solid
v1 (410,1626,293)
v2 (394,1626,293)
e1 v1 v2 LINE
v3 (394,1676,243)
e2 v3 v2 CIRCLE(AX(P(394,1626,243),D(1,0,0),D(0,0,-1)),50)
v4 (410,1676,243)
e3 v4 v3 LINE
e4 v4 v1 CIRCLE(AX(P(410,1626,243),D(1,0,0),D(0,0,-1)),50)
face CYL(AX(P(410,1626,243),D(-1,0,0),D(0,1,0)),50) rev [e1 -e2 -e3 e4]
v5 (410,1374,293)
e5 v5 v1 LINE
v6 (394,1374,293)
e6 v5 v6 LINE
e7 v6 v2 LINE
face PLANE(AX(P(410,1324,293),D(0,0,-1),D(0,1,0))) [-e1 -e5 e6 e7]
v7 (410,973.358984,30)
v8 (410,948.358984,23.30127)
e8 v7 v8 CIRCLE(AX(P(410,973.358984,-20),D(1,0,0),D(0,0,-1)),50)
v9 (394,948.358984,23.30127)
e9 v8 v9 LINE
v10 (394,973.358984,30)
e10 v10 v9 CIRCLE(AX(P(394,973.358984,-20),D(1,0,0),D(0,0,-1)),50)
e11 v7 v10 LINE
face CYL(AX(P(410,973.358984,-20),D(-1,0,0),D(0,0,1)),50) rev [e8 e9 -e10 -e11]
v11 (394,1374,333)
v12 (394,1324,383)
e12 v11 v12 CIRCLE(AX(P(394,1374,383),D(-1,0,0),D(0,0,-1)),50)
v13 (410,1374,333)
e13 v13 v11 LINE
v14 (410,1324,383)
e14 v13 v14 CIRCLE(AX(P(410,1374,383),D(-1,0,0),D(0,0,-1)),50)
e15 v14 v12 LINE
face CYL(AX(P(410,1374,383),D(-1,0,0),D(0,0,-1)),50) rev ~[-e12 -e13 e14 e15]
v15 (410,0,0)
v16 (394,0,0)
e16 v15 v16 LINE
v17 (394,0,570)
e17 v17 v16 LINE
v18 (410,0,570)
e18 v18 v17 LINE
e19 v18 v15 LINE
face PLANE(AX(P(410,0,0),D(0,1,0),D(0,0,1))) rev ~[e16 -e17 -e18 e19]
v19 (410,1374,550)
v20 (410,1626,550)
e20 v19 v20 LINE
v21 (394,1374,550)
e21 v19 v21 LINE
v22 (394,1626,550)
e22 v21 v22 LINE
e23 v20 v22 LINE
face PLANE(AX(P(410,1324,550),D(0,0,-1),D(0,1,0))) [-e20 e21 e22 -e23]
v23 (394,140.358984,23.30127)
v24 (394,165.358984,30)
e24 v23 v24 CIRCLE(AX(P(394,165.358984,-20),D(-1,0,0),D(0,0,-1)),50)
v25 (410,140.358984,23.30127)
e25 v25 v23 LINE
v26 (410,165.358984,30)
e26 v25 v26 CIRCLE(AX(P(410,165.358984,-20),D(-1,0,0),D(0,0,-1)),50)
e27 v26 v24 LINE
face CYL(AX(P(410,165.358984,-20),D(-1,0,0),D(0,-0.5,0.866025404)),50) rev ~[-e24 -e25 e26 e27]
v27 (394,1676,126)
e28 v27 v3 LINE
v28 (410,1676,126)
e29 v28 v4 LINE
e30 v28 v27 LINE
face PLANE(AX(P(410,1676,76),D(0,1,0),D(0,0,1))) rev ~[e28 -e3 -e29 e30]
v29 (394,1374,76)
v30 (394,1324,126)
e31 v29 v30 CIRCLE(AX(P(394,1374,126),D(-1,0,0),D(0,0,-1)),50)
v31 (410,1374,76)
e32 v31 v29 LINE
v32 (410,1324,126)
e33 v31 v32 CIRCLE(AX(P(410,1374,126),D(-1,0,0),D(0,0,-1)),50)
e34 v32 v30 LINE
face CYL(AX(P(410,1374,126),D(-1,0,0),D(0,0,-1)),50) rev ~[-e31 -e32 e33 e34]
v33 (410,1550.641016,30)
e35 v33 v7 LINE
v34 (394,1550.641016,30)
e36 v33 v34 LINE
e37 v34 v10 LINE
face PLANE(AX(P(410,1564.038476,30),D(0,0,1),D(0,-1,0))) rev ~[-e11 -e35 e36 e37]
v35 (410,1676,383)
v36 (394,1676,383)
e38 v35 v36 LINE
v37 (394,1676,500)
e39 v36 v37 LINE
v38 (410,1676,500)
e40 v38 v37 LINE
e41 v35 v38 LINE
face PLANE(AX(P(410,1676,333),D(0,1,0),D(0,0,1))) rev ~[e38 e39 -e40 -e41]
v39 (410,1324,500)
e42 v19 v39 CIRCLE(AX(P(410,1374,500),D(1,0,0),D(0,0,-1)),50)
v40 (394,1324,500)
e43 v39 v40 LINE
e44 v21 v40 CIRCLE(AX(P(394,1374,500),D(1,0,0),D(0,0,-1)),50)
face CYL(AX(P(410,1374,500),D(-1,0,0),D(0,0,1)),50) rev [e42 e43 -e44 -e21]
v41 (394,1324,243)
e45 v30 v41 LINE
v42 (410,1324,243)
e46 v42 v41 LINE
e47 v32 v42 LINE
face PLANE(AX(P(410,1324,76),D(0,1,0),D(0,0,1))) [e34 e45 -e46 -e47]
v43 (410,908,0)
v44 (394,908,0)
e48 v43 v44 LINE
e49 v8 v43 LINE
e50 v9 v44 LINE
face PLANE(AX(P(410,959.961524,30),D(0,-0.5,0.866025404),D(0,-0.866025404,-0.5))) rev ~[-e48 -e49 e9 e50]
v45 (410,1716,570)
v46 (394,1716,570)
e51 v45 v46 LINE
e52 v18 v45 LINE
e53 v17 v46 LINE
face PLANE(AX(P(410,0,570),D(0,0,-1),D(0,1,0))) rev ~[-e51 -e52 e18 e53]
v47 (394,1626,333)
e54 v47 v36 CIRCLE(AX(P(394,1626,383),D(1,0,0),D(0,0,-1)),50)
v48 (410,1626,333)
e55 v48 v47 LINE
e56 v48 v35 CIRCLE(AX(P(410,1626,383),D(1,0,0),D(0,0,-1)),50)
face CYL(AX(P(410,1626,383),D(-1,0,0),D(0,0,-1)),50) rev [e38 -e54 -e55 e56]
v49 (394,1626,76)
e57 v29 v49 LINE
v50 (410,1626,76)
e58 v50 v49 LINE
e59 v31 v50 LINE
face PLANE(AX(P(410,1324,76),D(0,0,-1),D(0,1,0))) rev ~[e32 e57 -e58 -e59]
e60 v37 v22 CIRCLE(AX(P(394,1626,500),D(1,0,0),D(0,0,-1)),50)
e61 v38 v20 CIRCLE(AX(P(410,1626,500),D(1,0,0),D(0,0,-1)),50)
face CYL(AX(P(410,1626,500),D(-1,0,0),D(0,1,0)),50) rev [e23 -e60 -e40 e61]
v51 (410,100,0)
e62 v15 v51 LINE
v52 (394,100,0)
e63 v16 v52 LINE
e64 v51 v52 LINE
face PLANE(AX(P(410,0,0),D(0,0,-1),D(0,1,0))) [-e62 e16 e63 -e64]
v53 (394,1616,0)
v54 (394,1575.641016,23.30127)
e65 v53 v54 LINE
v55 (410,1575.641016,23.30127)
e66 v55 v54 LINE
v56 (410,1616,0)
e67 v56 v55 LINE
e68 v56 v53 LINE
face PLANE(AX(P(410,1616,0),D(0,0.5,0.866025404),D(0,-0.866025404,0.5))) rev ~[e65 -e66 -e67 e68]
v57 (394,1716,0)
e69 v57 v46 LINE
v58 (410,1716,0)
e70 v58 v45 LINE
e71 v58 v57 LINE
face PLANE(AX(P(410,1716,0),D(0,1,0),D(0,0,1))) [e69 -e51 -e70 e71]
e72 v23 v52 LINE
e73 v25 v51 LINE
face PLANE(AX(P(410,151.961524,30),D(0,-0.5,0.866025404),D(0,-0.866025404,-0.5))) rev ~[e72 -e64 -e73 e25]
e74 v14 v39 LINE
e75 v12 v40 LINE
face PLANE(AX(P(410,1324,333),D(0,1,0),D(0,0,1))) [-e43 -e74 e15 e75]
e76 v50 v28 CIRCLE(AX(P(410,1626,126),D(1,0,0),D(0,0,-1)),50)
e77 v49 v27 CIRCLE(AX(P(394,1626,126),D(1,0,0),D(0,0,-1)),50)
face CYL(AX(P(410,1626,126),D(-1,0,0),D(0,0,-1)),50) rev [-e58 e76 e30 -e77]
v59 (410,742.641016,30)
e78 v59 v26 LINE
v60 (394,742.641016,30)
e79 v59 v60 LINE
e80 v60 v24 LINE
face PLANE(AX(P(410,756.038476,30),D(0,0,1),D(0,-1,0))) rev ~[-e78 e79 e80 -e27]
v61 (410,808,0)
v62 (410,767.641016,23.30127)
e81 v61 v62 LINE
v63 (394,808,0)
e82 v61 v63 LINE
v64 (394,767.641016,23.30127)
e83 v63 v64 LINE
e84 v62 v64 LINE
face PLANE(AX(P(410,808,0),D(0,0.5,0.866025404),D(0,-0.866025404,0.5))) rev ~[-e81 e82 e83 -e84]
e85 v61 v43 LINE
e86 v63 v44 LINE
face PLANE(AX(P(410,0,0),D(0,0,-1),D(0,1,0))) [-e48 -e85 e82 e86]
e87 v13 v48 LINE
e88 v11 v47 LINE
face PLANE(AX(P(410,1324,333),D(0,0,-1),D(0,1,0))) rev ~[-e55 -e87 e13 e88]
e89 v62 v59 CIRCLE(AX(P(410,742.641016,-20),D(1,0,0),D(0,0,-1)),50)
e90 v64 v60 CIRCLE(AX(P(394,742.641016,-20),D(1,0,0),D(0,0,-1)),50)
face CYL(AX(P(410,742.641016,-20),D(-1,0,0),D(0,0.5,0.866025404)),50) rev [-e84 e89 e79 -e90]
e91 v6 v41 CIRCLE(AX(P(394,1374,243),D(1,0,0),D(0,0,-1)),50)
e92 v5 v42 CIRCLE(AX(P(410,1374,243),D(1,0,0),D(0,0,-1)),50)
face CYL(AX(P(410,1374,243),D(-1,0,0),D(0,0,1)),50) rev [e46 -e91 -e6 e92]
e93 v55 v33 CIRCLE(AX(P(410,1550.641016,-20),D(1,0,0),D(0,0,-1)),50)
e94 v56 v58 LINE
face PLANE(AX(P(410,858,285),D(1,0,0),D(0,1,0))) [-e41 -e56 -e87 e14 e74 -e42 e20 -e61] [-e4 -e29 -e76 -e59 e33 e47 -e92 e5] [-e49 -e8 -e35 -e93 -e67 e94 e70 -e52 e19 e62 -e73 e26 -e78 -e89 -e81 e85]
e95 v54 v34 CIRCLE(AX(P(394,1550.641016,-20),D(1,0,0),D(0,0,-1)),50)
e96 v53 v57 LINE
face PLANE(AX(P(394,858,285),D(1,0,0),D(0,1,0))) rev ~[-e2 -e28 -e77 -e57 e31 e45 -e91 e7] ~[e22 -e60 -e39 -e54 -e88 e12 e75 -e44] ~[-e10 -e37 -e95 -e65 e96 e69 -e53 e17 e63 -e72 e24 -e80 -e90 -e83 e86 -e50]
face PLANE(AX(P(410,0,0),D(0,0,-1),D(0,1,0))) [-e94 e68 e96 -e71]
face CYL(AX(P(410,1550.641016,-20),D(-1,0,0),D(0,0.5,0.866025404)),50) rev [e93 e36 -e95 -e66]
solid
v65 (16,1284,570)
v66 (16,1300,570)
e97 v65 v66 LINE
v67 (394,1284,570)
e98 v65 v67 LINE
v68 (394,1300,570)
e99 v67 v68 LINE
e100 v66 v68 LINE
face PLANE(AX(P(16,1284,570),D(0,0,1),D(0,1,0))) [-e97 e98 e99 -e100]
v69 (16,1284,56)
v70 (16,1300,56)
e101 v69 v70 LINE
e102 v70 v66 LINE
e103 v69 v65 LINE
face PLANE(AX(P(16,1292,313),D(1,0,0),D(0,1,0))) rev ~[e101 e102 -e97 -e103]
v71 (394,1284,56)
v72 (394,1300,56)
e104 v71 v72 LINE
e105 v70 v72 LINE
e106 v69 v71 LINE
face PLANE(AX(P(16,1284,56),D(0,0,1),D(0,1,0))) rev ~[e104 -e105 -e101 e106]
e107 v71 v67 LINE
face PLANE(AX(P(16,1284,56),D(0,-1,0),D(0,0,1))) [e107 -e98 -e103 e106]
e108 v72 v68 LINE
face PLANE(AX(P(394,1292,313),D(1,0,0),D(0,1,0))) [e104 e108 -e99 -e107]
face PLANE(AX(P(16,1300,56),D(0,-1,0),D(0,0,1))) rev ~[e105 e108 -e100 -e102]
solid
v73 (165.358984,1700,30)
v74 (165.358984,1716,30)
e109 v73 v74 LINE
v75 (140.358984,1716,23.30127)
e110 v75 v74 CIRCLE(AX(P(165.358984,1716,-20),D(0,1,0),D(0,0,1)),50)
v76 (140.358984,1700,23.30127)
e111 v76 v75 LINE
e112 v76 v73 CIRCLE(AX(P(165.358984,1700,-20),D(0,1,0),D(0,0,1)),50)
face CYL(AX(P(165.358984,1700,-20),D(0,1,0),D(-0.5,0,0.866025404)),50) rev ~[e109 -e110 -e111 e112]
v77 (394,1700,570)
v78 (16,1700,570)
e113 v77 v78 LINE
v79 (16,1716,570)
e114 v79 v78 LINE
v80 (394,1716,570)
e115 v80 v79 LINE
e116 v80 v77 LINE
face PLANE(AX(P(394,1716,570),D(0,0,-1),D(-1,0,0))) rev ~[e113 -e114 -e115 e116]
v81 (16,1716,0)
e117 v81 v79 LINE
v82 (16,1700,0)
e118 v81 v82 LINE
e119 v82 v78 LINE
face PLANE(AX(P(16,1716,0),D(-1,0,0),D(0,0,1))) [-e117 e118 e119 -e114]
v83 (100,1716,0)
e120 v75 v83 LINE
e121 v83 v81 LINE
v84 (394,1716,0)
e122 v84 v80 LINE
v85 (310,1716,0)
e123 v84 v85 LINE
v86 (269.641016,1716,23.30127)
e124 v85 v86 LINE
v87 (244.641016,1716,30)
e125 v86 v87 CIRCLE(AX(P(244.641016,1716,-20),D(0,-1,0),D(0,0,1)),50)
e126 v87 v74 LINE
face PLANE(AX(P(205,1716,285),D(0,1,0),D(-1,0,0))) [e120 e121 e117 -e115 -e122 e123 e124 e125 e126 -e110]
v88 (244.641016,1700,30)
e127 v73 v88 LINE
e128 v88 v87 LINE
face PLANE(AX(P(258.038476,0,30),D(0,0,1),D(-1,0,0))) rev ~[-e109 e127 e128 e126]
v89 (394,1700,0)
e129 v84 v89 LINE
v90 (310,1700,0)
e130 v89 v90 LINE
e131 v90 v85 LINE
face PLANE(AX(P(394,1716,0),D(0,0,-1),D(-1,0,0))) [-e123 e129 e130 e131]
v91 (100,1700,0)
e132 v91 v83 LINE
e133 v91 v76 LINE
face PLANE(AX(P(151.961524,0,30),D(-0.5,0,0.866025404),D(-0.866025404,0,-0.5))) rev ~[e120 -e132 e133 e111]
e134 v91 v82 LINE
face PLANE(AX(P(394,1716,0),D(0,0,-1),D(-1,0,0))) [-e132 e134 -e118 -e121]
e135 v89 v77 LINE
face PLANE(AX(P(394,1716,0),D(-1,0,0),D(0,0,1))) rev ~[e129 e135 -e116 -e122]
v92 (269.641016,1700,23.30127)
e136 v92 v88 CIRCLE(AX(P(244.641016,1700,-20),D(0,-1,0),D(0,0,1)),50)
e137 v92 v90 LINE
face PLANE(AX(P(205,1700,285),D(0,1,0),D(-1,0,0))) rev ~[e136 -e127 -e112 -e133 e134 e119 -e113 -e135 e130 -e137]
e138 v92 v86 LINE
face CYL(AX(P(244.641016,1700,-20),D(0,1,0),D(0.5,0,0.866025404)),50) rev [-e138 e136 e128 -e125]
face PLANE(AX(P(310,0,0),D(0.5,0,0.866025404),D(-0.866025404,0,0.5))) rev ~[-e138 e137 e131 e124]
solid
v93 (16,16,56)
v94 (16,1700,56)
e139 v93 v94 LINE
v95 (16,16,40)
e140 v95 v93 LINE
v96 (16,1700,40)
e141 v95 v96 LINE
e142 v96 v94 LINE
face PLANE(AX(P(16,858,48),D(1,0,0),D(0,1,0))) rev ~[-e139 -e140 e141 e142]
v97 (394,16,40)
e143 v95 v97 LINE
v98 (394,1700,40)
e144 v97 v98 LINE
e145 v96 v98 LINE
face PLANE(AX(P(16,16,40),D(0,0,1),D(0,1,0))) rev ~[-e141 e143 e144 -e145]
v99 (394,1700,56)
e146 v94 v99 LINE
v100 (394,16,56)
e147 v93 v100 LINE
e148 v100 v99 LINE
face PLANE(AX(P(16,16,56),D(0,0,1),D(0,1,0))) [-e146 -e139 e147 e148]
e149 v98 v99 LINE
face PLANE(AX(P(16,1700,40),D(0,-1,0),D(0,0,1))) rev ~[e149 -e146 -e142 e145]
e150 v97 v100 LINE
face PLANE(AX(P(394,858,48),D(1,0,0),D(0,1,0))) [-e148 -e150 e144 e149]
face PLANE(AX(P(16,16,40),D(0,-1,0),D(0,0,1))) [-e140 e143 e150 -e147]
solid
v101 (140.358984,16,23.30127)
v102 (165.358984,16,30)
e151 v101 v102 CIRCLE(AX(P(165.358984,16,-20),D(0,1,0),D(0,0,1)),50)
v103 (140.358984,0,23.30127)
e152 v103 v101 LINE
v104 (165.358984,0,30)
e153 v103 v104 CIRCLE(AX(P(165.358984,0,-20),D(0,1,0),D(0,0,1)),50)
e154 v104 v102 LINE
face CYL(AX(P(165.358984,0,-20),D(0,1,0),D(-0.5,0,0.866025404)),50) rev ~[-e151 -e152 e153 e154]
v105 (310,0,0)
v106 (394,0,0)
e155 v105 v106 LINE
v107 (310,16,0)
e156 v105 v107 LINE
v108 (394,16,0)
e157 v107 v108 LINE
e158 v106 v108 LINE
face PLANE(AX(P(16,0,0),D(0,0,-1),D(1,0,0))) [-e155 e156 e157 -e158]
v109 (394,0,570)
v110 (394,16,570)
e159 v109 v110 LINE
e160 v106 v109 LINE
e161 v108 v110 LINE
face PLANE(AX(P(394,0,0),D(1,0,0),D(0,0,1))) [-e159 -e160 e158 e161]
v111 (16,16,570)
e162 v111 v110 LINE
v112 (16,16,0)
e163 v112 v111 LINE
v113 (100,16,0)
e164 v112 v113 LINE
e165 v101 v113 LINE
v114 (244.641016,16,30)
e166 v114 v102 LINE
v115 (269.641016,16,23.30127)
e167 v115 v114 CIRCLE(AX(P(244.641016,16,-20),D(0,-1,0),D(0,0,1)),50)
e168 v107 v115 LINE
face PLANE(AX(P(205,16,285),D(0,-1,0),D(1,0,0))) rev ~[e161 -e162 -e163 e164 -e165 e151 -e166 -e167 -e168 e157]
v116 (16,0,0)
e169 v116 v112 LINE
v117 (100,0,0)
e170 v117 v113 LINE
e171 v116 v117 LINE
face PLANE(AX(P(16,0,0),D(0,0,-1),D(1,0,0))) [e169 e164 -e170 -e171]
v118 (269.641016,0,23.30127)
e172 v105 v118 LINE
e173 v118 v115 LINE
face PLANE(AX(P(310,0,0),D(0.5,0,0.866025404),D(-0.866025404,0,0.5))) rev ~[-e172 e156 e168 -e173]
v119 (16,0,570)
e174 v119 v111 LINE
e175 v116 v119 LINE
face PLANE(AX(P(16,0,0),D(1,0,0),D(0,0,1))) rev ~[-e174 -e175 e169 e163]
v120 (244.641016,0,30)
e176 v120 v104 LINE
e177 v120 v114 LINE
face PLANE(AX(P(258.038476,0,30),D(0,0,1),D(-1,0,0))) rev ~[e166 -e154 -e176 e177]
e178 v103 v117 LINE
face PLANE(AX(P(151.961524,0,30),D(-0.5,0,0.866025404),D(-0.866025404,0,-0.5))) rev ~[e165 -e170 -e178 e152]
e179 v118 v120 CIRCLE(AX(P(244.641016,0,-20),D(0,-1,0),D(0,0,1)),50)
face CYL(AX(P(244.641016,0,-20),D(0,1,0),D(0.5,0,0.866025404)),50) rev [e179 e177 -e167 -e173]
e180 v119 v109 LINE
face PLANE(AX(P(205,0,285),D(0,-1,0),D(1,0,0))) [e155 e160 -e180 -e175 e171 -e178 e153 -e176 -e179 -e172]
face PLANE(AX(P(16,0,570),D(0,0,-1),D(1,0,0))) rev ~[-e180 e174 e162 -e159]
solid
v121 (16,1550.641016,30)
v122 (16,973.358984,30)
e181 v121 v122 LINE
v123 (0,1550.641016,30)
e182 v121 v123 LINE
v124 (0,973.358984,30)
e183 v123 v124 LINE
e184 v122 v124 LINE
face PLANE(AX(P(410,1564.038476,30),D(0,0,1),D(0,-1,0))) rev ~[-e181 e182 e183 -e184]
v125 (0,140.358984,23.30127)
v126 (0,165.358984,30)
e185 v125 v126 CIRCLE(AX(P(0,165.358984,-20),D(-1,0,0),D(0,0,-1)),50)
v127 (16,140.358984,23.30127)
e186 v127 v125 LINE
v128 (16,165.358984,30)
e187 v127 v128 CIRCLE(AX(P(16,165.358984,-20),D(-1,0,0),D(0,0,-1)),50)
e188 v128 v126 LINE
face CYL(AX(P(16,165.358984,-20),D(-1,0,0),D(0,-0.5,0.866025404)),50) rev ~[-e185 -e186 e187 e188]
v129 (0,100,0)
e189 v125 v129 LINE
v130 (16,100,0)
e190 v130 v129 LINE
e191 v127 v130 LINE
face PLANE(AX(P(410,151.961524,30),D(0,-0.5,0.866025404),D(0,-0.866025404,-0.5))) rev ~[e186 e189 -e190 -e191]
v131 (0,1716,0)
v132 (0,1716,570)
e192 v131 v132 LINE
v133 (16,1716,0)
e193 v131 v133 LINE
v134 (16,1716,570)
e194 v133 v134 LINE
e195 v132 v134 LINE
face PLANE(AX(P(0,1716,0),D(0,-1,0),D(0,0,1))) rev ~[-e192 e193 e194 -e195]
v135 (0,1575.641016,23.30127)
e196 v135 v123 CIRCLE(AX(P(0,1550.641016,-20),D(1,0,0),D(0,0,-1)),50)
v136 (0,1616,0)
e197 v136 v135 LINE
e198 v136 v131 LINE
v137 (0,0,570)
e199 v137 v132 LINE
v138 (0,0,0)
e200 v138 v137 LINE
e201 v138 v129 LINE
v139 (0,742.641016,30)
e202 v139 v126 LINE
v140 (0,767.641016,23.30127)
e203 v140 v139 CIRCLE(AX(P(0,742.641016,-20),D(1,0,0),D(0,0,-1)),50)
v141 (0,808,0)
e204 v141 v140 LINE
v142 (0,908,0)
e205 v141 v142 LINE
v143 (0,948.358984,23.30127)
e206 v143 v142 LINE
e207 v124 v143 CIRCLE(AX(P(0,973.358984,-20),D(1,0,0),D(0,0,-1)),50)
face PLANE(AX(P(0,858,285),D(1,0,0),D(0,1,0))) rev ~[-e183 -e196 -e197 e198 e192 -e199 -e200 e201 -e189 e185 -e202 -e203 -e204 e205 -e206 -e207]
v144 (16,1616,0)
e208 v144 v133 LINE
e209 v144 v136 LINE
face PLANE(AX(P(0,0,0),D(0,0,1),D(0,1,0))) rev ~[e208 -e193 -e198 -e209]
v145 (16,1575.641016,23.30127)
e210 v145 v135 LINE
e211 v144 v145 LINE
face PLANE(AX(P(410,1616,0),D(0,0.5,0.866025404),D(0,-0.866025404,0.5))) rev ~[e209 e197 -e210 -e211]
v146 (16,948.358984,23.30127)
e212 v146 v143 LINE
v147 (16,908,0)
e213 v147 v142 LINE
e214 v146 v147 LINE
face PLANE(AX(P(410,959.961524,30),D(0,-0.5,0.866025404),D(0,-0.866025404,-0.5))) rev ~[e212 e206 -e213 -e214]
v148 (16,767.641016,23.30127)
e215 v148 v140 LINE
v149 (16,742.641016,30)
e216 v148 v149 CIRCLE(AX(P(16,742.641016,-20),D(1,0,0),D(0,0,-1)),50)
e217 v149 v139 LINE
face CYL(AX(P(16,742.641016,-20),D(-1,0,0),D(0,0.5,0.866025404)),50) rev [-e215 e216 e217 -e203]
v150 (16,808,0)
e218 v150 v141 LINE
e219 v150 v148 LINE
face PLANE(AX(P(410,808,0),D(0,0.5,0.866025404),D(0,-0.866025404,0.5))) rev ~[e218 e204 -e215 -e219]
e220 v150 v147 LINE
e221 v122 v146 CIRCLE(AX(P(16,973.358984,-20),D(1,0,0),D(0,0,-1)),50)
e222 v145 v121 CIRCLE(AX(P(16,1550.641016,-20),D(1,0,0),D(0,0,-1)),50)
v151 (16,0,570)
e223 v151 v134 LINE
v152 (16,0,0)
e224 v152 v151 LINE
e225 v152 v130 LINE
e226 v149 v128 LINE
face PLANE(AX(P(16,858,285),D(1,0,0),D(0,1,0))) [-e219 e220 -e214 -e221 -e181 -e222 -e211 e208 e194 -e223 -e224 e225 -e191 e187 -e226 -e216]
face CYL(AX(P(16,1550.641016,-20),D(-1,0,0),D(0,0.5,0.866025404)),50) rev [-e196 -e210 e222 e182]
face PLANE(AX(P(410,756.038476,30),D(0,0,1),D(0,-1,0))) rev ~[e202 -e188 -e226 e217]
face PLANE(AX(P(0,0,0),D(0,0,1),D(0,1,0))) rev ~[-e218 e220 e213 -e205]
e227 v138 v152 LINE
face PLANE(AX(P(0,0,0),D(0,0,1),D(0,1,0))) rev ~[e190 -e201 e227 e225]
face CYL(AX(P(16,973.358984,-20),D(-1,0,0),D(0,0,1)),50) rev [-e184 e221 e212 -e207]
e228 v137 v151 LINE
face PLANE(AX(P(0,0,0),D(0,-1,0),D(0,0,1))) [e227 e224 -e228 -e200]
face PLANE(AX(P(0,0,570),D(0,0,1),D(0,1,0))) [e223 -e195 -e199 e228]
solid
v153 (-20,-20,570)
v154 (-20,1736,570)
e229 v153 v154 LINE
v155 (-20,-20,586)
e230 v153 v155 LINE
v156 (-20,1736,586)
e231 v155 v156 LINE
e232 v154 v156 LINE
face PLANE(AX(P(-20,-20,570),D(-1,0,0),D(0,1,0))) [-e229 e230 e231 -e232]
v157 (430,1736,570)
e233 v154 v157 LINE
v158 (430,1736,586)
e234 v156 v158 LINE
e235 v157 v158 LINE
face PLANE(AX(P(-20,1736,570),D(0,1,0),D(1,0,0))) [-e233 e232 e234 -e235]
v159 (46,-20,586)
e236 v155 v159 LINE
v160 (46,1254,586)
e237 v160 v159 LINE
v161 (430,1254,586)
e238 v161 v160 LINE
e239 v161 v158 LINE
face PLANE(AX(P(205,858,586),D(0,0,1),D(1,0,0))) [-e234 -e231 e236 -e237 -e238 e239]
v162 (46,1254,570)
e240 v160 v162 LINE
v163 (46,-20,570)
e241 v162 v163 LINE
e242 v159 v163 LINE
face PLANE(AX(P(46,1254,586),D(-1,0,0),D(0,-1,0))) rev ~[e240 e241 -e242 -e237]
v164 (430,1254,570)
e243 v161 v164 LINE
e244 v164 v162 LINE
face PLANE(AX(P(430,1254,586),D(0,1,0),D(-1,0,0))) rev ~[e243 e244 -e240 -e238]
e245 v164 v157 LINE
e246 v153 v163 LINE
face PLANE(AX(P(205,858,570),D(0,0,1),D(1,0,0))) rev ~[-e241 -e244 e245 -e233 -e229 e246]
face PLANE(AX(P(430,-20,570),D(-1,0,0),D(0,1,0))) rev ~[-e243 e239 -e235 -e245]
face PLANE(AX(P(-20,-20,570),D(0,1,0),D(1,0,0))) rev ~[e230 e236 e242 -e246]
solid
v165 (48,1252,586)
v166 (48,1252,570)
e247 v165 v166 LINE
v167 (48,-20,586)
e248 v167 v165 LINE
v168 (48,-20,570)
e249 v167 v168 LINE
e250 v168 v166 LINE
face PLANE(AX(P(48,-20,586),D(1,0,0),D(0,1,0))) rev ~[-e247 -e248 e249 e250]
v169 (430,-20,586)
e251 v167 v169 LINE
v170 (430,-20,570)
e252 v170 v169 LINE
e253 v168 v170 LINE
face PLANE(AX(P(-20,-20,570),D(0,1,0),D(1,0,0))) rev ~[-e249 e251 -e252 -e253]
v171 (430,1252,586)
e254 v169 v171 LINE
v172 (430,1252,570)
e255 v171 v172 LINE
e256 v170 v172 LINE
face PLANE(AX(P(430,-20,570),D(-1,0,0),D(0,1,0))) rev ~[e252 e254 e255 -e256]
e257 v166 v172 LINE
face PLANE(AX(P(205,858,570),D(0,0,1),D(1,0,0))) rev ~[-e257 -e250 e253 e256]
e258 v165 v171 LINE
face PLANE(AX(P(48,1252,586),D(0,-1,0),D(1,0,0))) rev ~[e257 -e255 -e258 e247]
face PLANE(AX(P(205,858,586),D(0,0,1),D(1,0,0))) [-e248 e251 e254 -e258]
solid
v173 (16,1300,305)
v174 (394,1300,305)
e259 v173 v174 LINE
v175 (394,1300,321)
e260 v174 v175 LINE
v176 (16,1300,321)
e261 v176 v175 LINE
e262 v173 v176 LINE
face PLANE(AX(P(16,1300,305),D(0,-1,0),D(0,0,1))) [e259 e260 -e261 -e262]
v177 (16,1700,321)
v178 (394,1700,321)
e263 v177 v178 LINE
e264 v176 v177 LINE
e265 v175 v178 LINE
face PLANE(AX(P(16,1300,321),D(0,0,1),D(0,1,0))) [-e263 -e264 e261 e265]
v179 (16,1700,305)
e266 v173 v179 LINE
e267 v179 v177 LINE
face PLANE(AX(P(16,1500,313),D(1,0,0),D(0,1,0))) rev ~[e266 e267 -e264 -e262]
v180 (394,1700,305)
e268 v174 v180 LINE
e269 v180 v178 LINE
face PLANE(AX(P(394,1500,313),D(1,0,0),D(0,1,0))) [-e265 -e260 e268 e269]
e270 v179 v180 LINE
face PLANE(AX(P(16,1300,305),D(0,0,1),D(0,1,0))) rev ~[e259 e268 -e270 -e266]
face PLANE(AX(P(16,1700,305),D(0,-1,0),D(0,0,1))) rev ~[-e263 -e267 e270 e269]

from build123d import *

# Parameters (mm, degrees)
F0_W      = 1716
F0_H      = 570
F1_DEPTH  = 16
F3_W      = 1716
F3_H      = 570
F4_DEPTH  = 16
F5_W      = 378
F5_H      = 570
F6_DEPTH  = 16
F7_W      = 378
F7_H      = 570
F8_DEPTH  = 16
F9_W      = 450
F9_H      = 1756
F9_W_2    = 16
F9_H_2    = 1716
F10_DEPTH = 16
F11_W     = 1684
F11_H     = 16
F12_DEPTH = 378
F13_W     = 16
F13_H     = 514
F14_DEPTH = 378
F15_W     = 400
F15_H     = 16
F16_DEPTH = 378
F18_DEPTH = 410
F20_DEPTH = 1716
F21_R     = 50
F21_2_R   = 50
F21_3_R   = 50
F21_4_R   = 50
F22_W     = 352
F22_H     = 217
F23_DEPTH = 16
F24_R     = 50
F26_DEPTH = 16
F27_W     = 16
F27_H     = 60
F28_DEPTH = 16


with BuildPart() as f1:
    # F0 (on Right) → F1 (new body)
    with BuildSketch(Plane.YZ):
        with Locations((858, 285)):
            Rectangle(F0_W, F0_H)
    extrude(amount=F1_DEPTH)


with BuildPart() as f4:
    # F3 (on offset) → F4 (new body)
    with BuildSketch(Plane.YZ.offset(410)):
        with Locations((858, 285)):
            Rectangle(F3_W, F3_H)
    extrude(amount=-F4_DEPTH)


with BuildPart() as f6:
    # F5 (on Front) → F6 (new body)
    with BuildSketch(Plane.XZ):
        with Locations((205, 285)):
            Rectangle(F5_W, F5_H)
    extrude(amount=-F6_DEPTH)


with BuildPart() as f8:
    # F7 (on face) → F8 (new body)
    with BuildSketch(Plane(origin=(0, 1716, 0), x_dir=(-1, 0, 0), z_dir=(0, 1, 0))):
        with Locations((-205, 285)):
            Rectangle(F7_W, F7_H)
    extrude(amount=-F8_DEPTH)


with BuildPart() as f10:
    # F9 (on face) → F10 (new body)
    with BuildSketch(Plane.XY.offset(570)):
        with Locations((205, 858)):
            Rectangle(F9_W, F9_H)
        with Locations((8, 858)):
            Rectangle(F9_W_2, F9_H_2, mode=Mode.SUBTRACT)
        with Locations((8, 858)):
            Rectangle(F9_W_2, F9_H_2)
    extrude(amount=F10_DEPTH)

    # F25 (on face) → F26 (cut, through all)
    with BuildSketch(Plane.XY.offset(586)):
        Polygon((430, 1252), (430, 1254), (46, 1254), (46, -20), (48, -20), (48, 1252), align=None)
    extrude(amount=-F26_DEPTH, mode=Mode.SUBTRACT)


with BuildPart() as f12:
    # F11 (on face) → F12 (new body, through all)
    with BuildSketch(Plane.YZ.offset(16)):
        with Locations((858, 48)):
            Rectangle(F11_W, F11_H)
    extrude(amount=F12_DEPTH)


with BuildPart() as f14:
    # F13 (on face) → F14 (new body, through all)
    with BuildSketch(Plane.YZ.offset(16)):
        with Locations((1292, 313)):
            Rectangle(F13_W, F13_H)
    extrude(amount=F14_DEPTH)


with BuildPart() as f16:
    # F15 (on face) → F16 (new body, through all)
    with BuildSketch(Plane.YZ.offset(16)):
        with Locations((1500, 313)):
            Rectangle(F15_W, F15_H)
    extrude(amount=F16_DEPTH)


with BuildPart() as f18_tool:
    # F17 (on face) → F18 (new body, through all)
    with BuildSketch(Plane.YZ.offset(410)):
        Polygon((151.9615242271, 30), (100, 0), (808, 0), (756.0384757729, 30), align=None)
        Polygon((908, 0), (1616, 0), (1564.0384757729, 30), (959.9615242271, 30), align=None)
    extrude(amount=-F18_DEPTH)


with BuildPart() as f1_1:
    add(f1.part)

    # F18: cut by f18_tool
    add(f18_tool.part, mode=Mode.SUBTRACT)

    # F21#2
    f21_2_edges = [f1_1.edges().sort_by_distance(p)[0] for p in [
        (8, 151.961524, 30),
        (8, 1564.038476, 30),
        (8, 756.038476, 30),
        (8, 959.961524, 30),
    ]]
    fillet(f21_2_edges, radius=F21_2_R)



with BuildPart() as f4_1:
    add(f4.part)

    # F18: cut by f18_tool
    add(f18_tool.part, mode=Mode.SUBTRACT)

    # F21
    f21_edges = [f4_1.edges().sort_by_distance(p)[0] for p in [
        (402, 151.961524, 30),
        (402, 1564.038476, 30),
        (402, 756.038476, 30),
        (402, 959.961524, 30),
    ]]
    fillet(f21_edges, radius=F21_R)

    # F22 (on face) → F23 (cut, through all)
    with BuildSketch(Plane.YZ.offset(410)):
        with Locations((1500, 441.5)):
            Rectangle(F22_W, F22_H)
        with Locations((1500, 184.5)):
            Rectangle(F22_W, F22_H)
    extrude(amount=-F23_DEPTH, mode=Mode.SUBTRACT)

    # F24
    f24_edges = [f4_1.edges().sort_by_distance(p)[0] for p in [
        (402, 1676, 333),
        (402, 1676, 76),
        (402, 1676, 293),
        (402, 1676, 550),
        (402, 1324, 550),
        (402, 1324, 293),
        (402, 1324, 333),
        (402, 1324, 76),
    ]]
    fillet(f24_edges, radius=F24_R)


with BuildPart() as f20_tool:
    # F19 (on face) → F20 (new body, through all)
    with BuildSketch(Plane.XZ):
        Polygon((151.9615242271, 30), (100, 0), (310, 0), (258.0384757729, 30), align=None)
    extrude(amount=-F20_DEPTH)


with BuildPart() as f6_1:
    add(f6.part)

    # F20: cut by f20_tool
    add(f20_tool.part, mode=Mode.SUBTRACT)

    # F21#4
    f21_4_edges = [f6_1.edges().sort_by_distance(p)[0] for p in [
        (258.038476, 8, 30),
        (151.961524, 8, 30),
    ]]
    fillet(f21_4_edges, radius=F21_4_R)


with BuildPart() as f8_1:
    add(f8.part)

    # F20: cut by f20_tool
    add(f20_tool.part, mode=Mode.SUBTRACT)

    # F21#3
    f21_3_edges = [f8_1.edges().sort_by_distance(p)[0] for p in [
        (151.961524, 1708, 30),
        (258.038476, 1708, 30),
    ]]
    fillet(f21_3_edges, radius=F21_3_R)


with BuildPart() as f1_2:
    add(f1_1.part)

    add(f4_1.part)  # F28 merges F4
    # F27 (on face) → F28 (join, through all)
    with BuildSketch(Plane.XZ):
        with Locations((402, 474)):
            Rectangle(F27_W, F27_H)
        with Locations((402, 348)):
            Rectangle(F27_W, F27_H)
        with Locations((402, 222)):
            Rectangle(F27_W, F27_H)
        with Locations((402, 96)):
            Rectangle(F27_W, F27_H)
        with Locations((8, 96)):
            Rectangle(F27_W, F27_H)
        with Locations((8, 474)):
            Rectangle(F27_W, F27_H)
        with Locations((8, 222)):
            Rectangle(F27_W, F27_H)
        with Locations((8, 348)):
            Rectangle(F27_W, F27_H)
    extrude(amount=-F28_DEPTH)


solid = Compound([f10.part, f12.part, f14.part, f16.part, f6_1.part, f8_1.part, f1_2.part])
